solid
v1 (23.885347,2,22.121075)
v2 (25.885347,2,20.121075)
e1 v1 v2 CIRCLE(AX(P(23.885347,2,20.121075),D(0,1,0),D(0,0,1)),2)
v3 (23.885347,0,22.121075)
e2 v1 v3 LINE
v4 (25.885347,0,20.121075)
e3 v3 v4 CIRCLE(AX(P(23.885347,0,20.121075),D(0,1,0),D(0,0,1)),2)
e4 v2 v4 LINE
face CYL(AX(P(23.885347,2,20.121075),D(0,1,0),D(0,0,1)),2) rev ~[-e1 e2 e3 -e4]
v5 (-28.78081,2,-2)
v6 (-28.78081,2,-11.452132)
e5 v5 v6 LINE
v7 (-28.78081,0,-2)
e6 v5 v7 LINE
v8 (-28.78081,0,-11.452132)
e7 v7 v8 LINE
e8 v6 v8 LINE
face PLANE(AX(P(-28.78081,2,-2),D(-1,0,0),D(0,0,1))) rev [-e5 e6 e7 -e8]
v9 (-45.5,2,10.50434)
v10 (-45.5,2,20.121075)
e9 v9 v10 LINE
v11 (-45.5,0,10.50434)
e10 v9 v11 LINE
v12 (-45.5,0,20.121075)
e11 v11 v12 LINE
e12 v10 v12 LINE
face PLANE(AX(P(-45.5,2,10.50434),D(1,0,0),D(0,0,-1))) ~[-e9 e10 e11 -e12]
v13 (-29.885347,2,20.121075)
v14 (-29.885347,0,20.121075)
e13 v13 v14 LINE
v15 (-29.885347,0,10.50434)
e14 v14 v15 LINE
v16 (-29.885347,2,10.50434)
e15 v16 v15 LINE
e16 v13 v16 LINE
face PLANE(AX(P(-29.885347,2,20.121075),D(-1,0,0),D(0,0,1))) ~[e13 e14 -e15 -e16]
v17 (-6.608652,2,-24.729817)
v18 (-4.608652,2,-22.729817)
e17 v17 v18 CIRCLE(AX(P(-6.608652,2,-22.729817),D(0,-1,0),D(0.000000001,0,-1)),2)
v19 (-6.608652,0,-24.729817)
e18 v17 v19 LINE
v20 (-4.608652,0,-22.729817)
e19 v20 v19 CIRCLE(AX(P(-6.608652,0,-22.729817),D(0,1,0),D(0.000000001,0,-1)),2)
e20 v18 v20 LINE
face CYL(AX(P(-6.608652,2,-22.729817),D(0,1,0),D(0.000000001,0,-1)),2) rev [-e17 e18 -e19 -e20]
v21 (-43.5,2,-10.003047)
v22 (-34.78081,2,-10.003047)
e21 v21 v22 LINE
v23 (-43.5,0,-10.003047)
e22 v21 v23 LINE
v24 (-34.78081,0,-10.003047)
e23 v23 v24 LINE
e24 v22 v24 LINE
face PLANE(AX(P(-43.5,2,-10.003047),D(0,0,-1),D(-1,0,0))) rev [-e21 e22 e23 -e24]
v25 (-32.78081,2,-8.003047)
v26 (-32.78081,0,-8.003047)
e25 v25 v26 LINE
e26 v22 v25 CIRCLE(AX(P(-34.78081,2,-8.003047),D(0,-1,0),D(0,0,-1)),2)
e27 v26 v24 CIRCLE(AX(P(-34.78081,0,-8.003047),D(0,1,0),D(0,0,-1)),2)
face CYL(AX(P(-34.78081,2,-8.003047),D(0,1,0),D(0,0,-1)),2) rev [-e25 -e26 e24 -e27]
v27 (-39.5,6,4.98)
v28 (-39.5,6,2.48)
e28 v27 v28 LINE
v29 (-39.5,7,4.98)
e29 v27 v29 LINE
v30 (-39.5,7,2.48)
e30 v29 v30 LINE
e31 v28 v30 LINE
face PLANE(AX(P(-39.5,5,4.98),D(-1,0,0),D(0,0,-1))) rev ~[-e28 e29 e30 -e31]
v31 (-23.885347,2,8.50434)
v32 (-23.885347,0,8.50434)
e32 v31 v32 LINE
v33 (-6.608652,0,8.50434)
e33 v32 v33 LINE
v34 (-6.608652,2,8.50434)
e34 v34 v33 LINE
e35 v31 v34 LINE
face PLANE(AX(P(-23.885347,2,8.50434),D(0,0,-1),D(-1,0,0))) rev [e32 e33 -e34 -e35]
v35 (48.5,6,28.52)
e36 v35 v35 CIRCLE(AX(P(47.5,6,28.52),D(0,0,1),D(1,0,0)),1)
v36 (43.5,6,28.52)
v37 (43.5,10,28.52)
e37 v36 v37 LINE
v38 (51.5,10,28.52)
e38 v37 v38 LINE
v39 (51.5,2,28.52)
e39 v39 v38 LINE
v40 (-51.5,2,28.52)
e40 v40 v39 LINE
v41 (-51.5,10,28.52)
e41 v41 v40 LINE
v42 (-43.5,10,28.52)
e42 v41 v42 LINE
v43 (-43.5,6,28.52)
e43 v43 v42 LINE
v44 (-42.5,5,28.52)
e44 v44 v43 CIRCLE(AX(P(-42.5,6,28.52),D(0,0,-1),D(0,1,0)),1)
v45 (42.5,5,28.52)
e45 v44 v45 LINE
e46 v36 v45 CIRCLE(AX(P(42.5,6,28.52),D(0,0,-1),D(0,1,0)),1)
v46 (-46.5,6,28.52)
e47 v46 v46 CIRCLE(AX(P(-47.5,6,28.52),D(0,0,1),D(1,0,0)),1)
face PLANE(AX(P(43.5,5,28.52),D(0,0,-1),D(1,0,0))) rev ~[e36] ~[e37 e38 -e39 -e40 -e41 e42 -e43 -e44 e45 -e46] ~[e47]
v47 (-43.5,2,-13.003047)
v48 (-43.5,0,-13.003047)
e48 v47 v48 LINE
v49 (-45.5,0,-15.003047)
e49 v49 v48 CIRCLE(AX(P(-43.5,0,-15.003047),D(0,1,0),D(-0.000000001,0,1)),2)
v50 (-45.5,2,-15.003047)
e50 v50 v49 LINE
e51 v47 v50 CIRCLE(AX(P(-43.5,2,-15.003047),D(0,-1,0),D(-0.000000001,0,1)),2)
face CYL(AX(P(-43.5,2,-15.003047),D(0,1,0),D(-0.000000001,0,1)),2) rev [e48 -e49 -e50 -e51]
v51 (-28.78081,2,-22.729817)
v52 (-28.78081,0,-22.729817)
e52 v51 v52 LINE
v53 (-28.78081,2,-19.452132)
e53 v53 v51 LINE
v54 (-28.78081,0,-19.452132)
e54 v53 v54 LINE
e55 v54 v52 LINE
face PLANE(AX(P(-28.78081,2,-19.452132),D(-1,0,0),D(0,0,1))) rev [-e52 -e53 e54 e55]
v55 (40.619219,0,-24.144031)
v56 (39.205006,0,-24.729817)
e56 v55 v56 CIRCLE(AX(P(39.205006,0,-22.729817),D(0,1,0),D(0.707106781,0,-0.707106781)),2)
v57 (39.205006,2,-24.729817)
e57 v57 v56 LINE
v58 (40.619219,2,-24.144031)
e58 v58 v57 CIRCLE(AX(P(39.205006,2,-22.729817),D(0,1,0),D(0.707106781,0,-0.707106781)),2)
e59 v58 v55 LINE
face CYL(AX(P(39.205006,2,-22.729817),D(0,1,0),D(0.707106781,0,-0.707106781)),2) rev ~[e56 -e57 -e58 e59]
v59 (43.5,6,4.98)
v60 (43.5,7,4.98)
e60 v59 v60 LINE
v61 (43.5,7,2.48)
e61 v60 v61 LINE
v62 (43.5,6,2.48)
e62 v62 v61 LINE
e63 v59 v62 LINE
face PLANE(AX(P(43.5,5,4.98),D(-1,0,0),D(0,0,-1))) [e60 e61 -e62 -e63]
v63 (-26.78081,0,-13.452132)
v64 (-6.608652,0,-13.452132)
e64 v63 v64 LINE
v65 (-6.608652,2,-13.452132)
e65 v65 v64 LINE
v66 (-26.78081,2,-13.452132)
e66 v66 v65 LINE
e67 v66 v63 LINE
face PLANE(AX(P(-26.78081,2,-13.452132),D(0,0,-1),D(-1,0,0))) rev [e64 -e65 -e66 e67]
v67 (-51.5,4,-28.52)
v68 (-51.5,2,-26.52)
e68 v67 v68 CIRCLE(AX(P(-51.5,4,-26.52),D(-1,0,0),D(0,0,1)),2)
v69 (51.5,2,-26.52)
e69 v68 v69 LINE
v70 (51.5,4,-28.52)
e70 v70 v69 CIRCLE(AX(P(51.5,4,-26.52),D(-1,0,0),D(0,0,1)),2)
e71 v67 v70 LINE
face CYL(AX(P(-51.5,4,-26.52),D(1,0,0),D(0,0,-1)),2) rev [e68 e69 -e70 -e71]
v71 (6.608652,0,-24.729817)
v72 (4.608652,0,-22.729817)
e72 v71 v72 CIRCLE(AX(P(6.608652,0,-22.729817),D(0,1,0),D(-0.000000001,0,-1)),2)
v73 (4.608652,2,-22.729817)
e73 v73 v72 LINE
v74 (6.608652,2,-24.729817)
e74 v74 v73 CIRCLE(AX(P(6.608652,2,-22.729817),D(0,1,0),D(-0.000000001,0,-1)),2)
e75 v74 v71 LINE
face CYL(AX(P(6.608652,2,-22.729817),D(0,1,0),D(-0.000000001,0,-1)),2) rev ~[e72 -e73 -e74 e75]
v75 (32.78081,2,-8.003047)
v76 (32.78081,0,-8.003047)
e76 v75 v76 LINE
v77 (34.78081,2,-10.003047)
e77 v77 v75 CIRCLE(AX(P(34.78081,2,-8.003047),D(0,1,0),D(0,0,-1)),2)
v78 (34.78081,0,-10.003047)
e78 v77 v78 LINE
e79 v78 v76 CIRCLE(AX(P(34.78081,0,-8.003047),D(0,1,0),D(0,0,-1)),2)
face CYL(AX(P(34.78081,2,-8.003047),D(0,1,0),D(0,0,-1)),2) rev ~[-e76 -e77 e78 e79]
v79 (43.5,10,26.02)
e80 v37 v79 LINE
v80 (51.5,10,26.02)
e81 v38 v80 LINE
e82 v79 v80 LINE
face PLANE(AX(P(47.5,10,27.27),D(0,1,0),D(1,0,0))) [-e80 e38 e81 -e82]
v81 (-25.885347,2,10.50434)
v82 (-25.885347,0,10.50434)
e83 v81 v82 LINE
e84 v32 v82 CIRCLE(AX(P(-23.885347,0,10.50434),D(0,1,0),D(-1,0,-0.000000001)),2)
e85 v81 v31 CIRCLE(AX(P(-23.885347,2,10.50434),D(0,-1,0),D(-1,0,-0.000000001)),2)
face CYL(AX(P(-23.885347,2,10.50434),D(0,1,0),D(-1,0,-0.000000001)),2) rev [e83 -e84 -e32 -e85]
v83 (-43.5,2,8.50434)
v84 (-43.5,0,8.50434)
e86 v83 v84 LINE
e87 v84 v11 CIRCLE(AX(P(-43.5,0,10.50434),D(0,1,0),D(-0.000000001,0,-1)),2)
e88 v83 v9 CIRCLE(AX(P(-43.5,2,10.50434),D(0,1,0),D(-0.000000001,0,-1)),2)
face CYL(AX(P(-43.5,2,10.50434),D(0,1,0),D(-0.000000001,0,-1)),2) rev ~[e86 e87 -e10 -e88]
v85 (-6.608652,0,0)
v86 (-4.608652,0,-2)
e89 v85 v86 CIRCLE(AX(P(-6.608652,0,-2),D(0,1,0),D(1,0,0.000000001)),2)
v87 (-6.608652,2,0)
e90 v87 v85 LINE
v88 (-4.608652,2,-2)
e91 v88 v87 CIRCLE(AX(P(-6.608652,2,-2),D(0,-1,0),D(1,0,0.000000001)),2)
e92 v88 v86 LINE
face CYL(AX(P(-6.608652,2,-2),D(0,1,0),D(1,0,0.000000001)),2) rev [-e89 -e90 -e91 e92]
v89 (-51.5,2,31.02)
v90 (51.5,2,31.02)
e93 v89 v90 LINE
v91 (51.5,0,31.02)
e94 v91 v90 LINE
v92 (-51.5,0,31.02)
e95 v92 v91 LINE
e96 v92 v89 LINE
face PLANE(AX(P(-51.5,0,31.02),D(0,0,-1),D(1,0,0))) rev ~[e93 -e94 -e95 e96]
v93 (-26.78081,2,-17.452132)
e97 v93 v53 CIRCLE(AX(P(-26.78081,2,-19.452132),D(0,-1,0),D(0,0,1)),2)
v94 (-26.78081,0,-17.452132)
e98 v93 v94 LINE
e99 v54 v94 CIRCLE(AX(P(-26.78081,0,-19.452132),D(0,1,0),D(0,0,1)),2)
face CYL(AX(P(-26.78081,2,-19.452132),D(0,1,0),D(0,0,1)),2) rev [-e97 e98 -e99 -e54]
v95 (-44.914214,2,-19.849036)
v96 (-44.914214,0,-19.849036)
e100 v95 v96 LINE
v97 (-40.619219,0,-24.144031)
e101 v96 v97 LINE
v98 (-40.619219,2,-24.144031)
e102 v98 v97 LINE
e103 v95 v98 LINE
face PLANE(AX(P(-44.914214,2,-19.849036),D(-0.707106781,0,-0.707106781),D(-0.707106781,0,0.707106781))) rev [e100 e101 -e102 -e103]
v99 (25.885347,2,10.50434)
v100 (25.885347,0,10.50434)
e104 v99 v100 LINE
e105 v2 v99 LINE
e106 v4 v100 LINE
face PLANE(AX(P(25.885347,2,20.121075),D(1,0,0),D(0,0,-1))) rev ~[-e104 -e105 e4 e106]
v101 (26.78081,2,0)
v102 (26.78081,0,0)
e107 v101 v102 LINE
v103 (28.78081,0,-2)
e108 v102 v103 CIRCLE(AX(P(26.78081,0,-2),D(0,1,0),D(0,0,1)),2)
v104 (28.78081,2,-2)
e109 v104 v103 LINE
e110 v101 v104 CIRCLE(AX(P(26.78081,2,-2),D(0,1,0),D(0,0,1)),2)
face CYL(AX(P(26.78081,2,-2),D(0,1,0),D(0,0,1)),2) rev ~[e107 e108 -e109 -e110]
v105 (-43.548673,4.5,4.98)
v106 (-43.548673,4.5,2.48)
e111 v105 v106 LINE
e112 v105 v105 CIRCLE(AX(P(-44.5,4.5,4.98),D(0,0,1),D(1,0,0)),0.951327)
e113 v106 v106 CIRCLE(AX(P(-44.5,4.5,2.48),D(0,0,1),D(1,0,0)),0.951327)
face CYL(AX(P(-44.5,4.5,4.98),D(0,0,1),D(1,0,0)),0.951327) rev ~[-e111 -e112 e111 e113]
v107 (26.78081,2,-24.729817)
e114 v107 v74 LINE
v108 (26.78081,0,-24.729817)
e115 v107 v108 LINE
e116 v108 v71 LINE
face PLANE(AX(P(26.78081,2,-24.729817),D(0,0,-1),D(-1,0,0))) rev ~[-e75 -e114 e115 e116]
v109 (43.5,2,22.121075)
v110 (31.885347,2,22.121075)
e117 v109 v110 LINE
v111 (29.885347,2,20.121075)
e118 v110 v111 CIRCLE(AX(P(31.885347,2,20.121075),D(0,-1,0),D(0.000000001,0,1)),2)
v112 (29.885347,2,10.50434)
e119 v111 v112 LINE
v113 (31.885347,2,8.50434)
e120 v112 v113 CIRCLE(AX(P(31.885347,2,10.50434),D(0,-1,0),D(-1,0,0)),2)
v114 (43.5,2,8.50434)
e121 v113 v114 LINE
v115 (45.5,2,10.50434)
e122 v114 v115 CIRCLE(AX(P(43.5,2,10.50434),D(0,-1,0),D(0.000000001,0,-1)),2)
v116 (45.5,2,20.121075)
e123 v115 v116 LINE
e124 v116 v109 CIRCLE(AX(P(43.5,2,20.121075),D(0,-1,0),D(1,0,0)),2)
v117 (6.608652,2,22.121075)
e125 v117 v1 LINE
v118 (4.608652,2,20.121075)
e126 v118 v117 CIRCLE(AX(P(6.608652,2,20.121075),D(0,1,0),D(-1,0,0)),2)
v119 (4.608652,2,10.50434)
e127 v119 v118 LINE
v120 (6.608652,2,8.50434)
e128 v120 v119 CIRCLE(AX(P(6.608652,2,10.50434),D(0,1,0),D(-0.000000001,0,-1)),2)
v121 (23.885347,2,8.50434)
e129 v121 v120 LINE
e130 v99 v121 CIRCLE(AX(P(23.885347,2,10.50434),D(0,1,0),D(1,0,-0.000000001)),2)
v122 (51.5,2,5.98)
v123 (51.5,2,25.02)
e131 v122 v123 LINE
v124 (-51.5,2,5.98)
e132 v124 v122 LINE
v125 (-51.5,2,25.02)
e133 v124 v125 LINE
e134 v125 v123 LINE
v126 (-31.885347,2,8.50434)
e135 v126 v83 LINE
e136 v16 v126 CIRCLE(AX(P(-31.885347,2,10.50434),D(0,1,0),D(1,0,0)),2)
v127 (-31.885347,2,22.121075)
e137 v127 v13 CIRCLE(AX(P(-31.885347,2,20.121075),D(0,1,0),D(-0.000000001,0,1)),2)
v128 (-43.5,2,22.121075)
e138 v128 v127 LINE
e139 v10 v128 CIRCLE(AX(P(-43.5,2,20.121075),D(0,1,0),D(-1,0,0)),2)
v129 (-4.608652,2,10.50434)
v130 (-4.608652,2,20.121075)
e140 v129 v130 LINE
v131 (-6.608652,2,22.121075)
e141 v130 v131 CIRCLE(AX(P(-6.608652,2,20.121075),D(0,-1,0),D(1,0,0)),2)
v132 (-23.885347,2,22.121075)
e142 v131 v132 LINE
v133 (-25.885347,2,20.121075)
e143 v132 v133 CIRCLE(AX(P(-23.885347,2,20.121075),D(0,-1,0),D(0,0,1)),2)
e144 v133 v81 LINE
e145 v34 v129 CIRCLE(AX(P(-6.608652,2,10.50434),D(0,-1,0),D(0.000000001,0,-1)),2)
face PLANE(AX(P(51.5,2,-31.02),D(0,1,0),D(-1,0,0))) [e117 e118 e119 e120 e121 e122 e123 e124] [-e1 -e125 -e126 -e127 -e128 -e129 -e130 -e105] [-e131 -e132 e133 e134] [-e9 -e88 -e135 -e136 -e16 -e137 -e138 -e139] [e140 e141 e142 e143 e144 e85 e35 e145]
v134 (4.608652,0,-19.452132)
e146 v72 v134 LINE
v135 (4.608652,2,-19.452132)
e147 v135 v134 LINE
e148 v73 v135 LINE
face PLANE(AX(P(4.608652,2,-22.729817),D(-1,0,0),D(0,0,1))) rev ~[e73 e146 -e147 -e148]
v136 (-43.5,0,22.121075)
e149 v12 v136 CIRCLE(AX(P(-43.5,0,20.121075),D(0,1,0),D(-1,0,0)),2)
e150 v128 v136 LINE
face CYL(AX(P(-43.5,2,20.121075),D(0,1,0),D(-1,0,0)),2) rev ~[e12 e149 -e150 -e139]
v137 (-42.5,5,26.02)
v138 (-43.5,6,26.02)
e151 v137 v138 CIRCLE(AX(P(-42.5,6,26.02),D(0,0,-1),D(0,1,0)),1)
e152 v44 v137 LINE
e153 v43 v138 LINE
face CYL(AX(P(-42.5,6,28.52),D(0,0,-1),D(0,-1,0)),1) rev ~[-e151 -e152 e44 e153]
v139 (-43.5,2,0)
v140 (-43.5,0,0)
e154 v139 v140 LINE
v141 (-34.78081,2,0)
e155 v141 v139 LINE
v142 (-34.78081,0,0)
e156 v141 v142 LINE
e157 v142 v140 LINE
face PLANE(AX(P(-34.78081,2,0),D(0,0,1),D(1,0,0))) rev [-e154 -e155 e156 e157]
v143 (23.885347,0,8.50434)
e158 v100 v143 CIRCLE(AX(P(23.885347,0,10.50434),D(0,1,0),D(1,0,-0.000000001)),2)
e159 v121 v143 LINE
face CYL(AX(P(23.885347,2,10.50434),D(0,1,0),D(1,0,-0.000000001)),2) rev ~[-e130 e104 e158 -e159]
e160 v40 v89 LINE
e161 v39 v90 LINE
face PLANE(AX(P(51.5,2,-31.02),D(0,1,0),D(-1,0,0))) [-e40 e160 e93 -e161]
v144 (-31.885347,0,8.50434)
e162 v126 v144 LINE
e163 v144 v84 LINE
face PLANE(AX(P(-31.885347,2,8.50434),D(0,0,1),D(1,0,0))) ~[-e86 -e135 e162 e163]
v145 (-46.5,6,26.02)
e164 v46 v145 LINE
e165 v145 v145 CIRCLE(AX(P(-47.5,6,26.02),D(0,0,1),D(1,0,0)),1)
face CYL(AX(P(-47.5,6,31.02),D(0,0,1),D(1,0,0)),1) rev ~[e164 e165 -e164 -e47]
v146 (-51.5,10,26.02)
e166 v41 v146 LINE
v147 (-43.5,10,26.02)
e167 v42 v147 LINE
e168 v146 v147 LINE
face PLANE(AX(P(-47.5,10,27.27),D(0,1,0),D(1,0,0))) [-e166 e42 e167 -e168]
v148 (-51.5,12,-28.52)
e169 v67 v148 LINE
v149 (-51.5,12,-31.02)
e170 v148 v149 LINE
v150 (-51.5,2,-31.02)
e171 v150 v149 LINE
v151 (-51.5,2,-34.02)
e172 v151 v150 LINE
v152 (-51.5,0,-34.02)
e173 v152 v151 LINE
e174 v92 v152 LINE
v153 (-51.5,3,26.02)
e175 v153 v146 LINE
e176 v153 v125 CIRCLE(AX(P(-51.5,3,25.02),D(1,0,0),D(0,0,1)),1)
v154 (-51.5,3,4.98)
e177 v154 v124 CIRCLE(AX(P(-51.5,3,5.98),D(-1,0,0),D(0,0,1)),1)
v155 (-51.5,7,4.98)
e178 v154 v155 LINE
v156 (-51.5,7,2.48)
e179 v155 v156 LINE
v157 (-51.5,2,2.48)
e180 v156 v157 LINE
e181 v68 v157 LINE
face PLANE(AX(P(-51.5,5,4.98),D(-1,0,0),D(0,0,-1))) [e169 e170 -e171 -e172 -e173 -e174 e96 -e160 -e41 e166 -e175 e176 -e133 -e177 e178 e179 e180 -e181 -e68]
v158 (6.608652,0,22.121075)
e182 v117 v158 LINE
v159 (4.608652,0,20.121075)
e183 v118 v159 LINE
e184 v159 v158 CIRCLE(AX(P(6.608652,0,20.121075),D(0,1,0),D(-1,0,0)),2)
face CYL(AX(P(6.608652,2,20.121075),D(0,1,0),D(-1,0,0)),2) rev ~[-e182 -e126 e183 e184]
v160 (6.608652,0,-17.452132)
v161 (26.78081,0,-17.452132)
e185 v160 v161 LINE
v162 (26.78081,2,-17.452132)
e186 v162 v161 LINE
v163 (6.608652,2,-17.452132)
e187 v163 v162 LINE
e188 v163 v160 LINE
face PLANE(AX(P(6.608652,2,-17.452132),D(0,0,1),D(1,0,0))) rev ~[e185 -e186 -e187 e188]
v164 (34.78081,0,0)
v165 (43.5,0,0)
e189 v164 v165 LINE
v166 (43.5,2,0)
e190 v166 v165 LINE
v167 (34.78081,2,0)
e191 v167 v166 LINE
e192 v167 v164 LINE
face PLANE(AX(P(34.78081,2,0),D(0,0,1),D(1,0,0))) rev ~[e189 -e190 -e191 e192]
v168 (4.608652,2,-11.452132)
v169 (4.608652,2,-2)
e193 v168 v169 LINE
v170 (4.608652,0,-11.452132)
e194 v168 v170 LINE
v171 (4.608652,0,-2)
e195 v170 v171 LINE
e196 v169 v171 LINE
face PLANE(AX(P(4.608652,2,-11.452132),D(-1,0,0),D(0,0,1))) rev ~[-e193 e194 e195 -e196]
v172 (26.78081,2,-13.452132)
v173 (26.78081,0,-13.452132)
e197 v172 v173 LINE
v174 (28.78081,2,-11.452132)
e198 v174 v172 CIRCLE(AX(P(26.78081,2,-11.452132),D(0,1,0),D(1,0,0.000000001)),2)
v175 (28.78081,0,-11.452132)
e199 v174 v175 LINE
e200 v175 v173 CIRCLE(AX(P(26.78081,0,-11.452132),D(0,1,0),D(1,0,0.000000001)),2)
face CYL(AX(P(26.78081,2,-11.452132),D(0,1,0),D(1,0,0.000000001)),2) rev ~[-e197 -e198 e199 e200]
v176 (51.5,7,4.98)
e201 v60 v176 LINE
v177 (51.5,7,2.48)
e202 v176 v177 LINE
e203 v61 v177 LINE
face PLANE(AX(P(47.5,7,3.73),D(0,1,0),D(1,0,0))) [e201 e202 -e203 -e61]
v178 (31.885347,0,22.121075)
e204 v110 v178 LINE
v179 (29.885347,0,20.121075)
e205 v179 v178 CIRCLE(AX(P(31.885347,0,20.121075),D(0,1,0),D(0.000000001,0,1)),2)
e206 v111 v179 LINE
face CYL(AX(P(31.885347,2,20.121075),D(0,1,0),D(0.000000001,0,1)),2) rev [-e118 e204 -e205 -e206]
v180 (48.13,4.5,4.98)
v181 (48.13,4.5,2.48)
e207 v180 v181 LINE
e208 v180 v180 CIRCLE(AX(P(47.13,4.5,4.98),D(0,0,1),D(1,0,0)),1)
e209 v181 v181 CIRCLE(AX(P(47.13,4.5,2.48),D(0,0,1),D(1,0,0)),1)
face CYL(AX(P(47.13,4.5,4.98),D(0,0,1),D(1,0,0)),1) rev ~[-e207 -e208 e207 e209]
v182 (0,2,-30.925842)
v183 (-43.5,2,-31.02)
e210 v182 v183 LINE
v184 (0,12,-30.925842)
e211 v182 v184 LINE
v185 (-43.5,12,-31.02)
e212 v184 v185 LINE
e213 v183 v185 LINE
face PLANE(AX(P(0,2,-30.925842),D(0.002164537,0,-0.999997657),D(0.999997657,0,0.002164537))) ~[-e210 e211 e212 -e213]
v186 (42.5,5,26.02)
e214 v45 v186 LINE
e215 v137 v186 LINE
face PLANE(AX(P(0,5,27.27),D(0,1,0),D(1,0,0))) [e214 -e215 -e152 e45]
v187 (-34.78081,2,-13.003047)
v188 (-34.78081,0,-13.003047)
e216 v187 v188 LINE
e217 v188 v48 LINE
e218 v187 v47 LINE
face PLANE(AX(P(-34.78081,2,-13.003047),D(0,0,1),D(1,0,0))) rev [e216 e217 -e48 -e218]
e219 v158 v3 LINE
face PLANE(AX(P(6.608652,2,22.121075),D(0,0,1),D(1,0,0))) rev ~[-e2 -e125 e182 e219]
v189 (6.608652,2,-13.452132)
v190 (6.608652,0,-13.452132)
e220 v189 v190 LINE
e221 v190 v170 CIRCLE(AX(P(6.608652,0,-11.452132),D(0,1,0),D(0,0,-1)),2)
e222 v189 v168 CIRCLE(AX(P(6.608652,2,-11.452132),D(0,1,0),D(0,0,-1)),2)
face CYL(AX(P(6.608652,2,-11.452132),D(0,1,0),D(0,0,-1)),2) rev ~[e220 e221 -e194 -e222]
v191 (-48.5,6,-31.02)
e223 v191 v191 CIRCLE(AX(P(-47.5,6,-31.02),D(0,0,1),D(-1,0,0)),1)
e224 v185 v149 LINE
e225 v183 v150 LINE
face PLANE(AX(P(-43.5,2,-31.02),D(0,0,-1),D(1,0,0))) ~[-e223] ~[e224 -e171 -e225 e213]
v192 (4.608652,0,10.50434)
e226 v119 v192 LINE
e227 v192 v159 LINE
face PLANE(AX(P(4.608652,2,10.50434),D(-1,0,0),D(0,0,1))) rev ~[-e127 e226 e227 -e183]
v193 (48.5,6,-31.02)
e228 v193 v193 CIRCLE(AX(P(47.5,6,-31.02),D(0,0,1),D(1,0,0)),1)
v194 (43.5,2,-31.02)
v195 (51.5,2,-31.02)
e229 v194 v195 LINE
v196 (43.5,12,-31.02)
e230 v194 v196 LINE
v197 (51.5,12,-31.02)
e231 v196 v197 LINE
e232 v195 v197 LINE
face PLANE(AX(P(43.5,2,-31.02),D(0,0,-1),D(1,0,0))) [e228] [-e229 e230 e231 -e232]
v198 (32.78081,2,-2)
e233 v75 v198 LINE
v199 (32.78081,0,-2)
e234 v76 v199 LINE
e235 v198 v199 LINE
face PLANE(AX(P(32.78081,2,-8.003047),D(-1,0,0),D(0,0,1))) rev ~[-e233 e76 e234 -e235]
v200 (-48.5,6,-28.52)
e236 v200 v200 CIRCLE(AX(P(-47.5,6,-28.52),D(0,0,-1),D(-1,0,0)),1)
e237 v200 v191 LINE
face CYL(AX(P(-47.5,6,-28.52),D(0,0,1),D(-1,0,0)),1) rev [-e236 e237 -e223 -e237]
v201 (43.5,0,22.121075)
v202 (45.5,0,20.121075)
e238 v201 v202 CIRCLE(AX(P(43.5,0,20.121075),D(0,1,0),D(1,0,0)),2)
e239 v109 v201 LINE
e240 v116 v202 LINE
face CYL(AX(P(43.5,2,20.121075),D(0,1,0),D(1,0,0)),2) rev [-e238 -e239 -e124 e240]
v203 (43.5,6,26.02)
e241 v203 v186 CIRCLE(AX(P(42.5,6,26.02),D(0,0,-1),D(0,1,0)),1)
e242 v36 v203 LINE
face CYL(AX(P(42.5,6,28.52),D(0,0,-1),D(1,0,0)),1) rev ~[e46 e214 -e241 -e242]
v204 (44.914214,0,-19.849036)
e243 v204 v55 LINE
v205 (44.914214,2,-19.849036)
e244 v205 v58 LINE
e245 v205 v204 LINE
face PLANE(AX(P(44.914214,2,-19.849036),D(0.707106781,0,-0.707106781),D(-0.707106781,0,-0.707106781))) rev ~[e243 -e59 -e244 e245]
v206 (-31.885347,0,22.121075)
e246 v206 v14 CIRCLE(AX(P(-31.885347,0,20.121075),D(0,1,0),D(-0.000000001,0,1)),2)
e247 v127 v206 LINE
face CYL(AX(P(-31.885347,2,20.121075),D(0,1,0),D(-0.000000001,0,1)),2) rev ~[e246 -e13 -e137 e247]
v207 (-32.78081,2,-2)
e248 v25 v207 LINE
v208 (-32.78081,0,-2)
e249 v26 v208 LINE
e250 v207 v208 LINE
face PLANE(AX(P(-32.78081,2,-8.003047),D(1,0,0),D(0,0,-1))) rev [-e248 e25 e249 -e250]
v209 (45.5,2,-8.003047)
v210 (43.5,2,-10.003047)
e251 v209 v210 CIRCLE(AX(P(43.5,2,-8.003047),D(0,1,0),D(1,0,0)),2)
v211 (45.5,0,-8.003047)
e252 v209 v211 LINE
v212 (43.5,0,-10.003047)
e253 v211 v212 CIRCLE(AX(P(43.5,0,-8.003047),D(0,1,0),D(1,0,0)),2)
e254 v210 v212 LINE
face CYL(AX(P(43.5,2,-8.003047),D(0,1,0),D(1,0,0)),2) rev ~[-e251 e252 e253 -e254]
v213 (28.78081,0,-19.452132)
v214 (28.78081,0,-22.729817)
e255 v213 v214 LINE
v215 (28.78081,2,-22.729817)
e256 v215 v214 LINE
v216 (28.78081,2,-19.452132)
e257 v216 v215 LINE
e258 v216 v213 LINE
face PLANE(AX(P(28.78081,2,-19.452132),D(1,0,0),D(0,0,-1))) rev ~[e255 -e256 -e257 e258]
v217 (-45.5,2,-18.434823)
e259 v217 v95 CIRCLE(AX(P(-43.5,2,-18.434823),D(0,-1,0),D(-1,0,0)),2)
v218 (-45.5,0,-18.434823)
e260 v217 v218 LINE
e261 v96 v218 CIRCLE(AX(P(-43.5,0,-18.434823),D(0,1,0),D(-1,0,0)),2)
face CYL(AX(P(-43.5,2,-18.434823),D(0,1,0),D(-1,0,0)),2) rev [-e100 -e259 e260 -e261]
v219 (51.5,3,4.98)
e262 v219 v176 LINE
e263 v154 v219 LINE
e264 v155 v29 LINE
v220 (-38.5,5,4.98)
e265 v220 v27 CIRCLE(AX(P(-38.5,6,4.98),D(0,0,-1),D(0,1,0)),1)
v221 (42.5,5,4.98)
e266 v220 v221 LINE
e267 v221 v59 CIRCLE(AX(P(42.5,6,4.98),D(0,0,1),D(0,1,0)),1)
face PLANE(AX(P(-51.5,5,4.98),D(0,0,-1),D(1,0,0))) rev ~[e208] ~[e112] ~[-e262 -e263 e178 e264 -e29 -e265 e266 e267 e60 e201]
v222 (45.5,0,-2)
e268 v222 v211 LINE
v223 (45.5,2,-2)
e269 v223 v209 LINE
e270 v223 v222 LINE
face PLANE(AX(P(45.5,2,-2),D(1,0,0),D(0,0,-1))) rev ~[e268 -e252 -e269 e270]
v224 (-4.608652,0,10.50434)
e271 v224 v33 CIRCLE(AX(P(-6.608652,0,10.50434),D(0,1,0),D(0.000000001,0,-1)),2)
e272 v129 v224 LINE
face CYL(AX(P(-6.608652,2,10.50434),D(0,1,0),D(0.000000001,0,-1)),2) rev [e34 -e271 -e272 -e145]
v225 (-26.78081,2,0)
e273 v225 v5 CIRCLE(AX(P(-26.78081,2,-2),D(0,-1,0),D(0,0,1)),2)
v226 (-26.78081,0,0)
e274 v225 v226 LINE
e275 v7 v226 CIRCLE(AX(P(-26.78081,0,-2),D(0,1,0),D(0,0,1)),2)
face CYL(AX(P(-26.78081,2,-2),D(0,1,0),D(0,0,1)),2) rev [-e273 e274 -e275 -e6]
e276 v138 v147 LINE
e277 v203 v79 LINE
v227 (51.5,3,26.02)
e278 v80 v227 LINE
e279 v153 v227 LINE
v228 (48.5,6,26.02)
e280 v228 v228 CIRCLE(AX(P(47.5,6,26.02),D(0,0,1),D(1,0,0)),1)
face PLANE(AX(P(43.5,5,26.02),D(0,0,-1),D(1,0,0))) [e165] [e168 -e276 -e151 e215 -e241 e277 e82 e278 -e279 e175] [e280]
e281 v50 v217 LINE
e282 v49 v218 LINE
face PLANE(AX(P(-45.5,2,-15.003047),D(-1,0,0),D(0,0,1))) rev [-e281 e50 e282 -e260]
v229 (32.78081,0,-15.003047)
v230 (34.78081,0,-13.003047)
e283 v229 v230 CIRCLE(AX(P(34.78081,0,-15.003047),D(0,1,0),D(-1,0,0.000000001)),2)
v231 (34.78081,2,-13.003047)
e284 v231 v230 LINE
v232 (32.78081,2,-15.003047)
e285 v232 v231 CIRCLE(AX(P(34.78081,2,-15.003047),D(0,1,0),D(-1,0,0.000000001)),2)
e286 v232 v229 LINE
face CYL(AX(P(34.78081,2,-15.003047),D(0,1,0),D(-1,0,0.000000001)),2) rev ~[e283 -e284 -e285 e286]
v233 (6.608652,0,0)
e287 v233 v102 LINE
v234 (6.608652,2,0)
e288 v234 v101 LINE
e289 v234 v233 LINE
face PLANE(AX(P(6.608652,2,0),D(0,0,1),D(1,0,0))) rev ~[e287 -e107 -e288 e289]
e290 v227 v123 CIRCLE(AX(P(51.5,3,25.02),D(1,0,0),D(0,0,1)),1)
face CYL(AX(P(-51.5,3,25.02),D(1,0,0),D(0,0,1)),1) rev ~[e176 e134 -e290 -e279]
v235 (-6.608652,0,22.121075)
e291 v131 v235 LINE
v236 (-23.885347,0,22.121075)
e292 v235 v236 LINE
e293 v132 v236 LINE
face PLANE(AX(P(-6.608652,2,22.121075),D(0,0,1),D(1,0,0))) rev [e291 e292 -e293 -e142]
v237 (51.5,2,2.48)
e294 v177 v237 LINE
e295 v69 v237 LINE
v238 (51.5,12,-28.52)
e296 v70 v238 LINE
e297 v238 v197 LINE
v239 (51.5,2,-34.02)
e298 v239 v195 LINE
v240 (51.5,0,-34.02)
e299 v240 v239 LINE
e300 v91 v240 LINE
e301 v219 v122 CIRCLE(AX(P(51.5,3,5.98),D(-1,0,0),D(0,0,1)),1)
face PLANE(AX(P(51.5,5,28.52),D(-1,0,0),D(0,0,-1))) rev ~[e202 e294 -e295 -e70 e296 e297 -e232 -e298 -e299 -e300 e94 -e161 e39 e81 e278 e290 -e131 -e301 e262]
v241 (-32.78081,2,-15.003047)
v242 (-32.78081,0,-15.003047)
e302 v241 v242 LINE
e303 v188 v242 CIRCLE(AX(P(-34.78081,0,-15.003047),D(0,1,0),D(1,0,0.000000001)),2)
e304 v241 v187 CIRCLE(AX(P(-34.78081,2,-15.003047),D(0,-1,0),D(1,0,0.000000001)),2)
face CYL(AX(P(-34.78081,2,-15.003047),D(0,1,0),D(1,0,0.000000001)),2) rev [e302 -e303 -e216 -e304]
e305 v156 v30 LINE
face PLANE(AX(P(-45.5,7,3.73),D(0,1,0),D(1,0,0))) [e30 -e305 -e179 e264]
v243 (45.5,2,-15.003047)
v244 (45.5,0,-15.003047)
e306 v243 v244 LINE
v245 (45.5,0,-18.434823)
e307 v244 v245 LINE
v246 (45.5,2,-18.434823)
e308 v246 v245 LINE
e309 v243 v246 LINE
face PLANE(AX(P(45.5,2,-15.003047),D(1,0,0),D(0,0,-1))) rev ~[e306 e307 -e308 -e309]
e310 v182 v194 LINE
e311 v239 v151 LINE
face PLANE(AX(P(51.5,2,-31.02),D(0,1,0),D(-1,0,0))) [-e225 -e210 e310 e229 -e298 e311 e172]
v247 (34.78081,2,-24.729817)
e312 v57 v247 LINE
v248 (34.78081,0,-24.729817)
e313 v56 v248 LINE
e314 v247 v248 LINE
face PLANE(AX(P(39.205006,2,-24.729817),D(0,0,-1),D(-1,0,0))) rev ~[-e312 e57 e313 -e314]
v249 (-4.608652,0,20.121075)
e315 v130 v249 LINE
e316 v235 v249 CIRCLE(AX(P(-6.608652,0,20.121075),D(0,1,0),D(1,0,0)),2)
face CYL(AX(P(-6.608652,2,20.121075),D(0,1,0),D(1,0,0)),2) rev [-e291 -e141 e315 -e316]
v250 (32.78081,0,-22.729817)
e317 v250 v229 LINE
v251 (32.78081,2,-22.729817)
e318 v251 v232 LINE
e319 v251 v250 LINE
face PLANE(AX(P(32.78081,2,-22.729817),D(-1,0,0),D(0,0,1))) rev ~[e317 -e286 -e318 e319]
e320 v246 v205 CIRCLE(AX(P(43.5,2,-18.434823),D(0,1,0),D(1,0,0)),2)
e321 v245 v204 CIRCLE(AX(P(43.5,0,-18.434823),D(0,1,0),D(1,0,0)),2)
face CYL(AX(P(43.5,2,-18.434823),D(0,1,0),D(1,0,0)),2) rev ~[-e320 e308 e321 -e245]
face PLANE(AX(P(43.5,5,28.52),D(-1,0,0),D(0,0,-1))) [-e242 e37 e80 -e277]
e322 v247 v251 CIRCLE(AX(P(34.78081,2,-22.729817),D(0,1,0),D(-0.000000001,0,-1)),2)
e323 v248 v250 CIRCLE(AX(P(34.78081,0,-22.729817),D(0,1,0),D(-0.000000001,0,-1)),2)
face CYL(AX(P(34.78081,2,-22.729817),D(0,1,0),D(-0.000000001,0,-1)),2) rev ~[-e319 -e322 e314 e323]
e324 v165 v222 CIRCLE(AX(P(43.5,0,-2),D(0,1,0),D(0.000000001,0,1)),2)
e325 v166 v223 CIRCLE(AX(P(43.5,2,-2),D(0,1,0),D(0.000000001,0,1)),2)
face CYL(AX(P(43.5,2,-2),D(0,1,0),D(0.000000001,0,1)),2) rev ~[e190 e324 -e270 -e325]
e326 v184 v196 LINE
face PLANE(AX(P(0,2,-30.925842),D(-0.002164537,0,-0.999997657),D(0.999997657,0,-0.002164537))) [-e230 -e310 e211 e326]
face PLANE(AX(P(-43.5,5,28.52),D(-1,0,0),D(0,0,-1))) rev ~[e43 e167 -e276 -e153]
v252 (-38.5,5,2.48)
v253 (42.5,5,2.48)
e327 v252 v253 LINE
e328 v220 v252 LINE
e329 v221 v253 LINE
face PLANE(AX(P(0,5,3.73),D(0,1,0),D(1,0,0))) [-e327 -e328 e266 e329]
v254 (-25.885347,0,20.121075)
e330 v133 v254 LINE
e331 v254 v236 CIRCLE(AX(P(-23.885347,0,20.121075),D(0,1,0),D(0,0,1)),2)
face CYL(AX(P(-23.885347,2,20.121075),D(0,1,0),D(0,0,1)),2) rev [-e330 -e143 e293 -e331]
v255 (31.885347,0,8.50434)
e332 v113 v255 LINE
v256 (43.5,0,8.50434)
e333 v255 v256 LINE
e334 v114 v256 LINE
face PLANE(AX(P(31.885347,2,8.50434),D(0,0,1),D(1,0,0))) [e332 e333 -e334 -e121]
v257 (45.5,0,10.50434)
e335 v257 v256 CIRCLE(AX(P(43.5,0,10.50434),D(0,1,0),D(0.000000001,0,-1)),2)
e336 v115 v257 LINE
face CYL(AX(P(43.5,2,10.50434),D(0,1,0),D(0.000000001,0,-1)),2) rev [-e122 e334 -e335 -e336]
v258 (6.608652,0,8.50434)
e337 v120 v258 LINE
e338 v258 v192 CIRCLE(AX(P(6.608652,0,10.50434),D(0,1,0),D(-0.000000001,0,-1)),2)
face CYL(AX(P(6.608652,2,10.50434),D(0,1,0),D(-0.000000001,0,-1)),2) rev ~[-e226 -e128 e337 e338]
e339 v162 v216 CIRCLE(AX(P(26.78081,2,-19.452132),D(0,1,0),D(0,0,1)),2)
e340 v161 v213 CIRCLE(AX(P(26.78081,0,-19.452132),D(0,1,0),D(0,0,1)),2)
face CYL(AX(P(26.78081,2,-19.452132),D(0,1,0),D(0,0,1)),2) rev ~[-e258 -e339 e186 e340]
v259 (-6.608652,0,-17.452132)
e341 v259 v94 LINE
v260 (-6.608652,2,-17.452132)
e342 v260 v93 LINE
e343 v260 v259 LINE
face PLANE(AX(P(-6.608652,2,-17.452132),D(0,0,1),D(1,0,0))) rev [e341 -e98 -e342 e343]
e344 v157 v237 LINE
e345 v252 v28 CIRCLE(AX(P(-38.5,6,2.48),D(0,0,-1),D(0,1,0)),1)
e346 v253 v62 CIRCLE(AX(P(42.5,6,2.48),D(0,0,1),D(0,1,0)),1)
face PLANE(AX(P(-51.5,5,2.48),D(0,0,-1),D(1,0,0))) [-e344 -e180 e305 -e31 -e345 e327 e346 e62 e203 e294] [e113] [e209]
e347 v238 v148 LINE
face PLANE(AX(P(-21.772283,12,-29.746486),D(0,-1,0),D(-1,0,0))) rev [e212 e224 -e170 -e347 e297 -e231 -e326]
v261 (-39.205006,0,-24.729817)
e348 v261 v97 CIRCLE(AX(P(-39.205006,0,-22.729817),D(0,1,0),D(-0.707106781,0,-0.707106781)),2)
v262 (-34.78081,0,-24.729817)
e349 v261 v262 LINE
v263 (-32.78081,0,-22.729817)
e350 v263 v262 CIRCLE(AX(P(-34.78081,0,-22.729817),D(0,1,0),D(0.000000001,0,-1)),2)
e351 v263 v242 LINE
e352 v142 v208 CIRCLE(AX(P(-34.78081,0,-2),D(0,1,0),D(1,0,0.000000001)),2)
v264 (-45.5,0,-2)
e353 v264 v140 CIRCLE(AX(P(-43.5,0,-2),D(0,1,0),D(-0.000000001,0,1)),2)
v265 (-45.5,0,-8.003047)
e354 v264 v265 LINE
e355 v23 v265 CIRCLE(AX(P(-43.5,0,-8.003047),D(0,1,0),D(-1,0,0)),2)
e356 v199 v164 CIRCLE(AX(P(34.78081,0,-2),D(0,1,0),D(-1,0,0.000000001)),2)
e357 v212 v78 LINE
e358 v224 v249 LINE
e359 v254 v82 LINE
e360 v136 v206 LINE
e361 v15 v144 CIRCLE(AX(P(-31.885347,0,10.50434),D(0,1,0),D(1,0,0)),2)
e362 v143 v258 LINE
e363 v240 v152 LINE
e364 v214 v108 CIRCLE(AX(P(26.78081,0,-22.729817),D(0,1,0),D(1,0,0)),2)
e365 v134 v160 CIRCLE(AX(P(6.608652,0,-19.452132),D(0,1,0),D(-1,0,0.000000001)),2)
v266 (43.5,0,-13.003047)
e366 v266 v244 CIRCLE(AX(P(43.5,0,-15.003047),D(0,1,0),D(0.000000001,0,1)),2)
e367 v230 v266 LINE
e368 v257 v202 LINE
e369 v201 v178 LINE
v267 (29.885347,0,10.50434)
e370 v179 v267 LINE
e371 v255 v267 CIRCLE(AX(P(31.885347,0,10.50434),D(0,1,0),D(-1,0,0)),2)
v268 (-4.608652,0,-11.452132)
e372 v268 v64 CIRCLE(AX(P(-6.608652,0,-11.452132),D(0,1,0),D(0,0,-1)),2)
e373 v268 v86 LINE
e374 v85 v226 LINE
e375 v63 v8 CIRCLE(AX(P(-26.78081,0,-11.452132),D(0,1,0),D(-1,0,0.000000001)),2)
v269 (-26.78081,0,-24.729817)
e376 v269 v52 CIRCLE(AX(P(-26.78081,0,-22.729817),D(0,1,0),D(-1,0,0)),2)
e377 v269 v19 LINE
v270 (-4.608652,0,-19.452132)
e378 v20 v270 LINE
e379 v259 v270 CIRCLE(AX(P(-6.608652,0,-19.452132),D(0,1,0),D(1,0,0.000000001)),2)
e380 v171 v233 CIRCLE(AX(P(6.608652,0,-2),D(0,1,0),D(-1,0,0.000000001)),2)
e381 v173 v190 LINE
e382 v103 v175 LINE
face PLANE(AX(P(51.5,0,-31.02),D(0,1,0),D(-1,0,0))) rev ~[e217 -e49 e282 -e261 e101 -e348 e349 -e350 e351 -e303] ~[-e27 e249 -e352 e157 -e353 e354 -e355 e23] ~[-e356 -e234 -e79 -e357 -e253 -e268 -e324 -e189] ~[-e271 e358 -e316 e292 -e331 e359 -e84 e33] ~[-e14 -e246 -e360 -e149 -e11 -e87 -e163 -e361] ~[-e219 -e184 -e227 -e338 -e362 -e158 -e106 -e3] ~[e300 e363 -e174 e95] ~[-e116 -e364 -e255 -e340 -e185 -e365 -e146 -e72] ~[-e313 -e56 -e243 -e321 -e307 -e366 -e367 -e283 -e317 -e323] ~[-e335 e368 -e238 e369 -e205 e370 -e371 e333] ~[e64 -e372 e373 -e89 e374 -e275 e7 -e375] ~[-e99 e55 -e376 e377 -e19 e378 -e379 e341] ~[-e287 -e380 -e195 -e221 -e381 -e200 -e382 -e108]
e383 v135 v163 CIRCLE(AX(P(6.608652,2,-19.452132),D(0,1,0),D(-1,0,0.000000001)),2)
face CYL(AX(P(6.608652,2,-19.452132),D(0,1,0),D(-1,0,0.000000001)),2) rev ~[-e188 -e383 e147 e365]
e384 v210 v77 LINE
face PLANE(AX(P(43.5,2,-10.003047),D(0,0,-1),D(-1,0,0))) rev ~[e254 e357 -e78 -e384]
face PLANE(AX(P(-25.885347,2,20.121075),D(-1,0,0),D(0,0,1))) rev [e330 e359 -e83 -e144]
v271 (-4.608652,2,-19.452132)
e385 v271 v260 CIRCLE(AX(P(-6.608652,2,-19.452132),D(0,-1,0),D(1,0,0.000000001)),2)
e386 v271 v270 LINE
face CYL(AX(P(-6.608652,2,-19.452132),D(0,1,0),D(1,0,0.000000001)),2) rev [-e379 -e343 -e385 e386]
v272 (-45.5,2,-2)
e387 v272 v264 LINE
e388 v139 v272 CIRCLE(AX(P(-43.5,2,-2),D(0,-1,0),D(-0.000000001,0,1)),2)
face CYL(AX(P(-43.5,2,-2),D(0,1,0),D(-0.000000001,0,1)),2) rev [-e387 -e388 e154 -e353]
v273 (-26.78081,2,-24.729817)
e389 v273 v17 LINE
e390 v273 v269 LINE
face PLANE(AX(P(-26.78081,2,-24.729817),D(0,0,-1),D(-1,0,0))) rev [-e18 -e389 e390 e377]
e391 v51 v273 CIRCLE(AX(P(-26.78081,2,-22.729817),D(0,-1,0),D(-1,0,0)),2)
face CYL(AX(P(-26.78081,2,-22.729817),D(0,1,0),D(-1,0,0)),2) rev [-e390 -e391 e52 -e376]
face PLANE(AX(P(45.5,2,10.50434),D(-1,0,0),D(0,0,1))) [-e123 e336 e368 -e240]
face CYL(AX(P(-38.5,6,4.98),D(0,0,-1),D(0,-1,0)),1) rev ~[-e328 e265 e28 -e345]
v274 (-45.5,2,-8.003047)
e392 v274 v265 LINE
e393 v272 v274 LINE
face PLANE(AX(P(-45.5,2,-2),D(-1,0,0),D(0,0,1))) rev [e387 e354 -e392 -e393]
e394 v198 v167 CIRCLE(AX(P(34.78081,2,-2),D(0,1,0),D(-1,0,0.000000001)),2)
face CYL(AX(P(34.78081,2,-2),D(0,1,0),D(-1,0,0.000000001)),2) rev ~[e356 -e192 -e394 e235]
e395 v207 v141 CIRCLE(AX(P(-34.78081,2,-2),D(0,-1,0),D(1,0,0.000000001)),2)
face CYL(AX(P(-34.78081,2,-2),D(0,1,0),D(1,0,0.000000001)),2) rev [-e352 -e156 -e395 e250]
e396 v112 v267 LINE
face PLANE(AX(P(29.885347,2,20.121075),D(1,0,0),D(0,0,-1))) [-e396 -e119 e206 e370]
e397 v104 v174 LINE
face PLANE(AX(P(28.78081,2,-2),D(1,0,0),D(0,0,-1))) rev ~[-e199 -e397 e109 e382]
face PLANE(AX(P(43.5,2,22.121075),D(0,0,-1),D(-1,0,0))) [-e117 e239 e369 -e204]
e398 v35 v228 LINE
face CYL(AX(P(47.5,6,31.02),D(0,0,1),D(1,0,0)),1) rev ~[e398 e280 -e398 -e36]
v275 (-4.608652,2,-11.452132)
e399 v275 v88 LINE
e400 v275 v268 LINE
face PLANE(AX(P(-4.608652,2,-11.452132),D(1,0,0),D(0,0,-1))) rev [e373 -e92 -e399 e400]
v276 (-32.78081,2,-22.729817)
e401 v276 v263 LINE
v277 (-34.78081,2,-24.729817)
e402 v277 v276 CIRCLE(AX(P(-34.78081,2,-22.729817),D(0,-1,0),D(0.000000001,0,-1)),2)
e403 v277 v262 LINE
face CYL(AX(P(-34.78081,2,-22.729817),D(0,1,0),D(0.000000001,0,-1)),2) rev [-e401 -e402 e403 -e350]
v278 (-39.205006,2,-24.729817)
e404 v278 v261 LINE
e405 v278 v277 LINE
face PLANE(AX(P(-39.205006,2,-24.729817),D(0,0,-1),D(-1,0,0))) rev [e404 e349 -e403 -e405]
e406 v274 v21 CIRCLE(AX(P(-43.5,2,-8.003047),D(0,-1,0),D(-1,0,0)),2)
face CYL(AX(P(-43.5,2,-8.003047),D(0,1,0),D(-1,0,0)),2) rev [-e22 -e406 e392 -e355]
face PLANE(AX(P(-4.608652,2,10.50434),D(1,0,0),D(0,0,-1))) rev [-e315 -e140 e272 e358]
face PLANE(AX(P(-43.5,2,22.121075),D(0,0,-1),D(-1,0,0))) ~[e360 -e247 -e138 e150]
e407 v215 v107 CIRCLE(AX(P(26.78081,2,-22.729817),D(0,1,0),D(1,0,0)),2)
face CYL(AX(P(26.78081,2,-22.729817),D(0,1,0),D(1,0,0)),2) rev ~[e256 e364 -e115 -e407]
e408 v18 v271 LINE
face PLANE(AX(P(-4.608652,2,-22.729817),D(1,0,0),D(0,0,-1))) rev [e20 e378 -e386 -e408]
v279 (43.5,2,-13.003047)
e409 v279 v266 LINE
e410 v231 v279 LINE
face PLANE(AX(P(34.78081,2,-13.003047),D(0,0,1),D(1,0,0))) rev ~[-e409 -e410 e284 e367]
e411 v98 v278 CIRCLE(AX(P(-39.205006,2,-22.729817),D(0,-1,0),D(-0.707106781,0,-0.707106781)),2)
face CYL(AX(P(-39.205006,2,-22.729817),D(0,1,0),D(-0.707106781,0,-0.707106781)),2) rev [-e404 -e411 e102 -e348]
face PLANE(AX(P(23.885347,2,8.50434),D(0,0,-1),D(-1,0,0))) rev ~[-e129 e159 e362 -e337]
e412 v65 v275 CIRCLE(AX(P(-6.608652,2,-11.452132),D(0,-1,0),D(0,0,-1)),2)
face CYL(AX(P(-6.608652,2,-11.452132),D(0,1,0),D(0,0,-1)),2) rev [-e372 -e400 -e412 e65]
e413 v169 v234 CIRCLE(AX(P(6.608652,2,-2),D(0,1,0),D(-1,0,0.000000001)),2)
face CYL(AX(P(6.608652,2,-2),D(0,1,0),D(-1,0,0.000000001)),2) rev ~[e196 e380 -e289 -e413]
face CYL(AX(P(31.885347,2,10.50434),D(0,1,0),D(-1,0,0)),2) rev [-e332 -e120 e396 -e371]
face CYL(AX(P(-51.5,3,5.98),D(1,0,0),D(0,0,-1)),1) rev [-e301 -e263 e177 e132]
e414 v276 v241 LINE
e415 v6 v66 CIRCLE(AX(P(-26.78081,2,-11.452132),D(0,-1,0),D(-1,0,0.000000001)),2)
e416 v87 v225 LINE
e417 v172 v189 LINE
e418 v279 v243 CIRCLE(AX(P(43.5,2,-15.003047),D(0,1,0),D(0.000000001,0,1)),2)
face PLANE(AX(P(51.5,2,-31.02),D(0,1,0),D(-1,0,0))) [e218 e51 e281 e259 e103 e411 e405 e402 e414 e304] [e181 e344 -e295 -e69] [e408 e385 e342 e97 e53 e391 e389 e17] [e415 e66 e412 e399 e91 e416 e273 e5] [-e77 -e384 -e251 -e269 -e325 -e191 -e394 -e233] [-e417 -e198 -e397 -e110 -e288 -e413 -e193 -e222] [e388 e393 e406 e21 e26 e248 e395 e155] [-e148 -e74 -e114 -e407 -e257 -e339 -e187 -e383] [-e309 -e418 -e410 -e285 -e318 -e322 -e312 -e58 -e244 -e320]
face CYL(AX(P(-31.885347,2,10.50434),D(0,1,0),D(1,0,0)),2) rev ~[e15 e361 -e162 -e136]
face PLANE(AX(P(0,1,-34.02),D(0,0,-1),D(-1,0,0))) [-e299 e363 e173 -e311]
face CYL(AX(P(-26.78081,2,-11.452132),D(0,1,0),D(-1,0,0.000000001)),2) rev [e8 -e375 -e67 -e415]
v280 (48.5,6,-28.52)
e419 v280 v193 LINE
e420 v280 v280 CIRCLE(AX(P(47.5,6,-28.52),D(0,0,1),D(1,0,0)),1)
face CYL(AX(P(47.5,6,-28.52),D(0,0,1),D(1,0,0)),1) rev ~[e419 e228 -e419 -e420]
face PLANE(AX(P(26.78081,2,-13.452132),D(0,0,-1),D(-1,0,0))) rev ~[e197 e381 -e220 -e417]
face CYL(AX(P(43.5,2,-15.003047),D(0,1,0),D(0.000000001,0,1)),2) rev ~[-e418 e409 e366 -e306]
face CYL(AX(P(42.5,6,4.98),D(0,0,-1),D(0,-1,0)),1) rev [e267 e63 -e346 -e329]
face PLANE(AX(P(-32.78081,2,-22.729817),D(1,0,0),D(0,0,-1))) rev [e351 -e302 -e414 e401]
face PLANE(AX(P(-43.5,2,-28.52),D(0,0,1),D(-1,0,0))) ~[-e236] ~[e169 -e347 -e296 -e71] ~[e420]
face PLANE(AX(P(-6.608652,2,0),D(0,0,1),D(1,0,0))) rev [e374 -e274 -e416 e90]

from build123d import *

# Parameters (mm, degrees)
SKETCH1_W            = 103
SKETCH1_H            = 62.04
BOSS_EXTRUDE1_DEPTH  = 2
SKETCH2_W            = 103
SKETCH2_H            = 2
BOSS_EXTRUDE2_DEPTH  = 3
SKETCH5_W            = 8
SKETCH5_H            = 2.5
BOSS_EXTRUDE4_DEPTH  = 10
BOSS_EXTRUDE5_DEPTH  = 10
SKETCH7_R            = 1
CUT_EXTRUDE1_DEPTH   = 3
FILLET2_R            = 2
SKETCH8_W            = 103
SKETCH8_H            = 2.5
BOSS_EXTRUDE6_DEPTH  = 3
SKETCH9_W            = 8
SKETCH9_H            = 2.5
BOSS_EXTRUDE7_DEPTH  = 2
SKETCH11_R           = 1
CUT_EXTRUDE3_DEPTH   = 22
FILLET4_R            = 1
SKETCH12_W           = 12
SKETCH12_H           = 2.5
BOSS_EXTRUDE8_DEPTH  = 2
FILLET5_R            = 1
SKETCH13_R           = 0.95132711
CUT_EXTRUDE4_DEPTH   = 12
FILLET6_R            = 1
SKETCH14_W           = 103
SKETCH14_H           = 2.5
BOSS_EXTRUDE9_DEPTH  = 3
SKETCH15_W           = 8
SKETCH15_H           = 2.5
BOSS_EXTRUDE10_DEPTH = 5
SKETCH16_R           = 1
CUT_EXTRUDE5_DEPTH   = 15
FILLET7_R            = 1
CUT_EXTRUDE6_DEPTH   = 5


with BuildPart() as part:
    # Sketch1 → Boss-Extrude1 (new body)
    with BuildSketch(Plane(origin=(0, 0, 0), x_dir=(1, 0, 0), z_dir=(0, 1, 0))):
        Rectangle(SKETCH1_W, SKETCH1_H)
    extrude(amount=BOSS_EXTRUDE1_DEPTH)

    # Sketch2 → Boss-Extrude2 (add)
    with BuildSketch(Plane(origin=(0, 0, -31.02), x_dir=(-1, 0, 0), z_dir=(0, 0, -1))):
        with Locations((0, 1)):
            Rectangle(SKETCH2_W, SKETCH2_H)
    extrude(amount=BOSS_EXTRUDE2_DEPTH)

    # Sketch5 → Boss-Extrude4 (add)
    with BuildSketch(Plane(origin=(0, 2, 0), x_dir=(1, 0, 0), z_dir=(0, 1, 0))):
        with Locations((47.5, 29.77)):
            Rectangle(SKETCH5_W, SKETCH5_H)
    boss_extrude4 = extrude(amount=BOSS_EXTRUDE4_DEPTH)

    # Sketch6 → Boss-Extrude5 (add)
    with BuildSketch(Plane(origin=(0, 2, 0), x_dir=(1, 0, 0), z_dir=(0, 1, 0))):
        Polygon((43.5, 28.52), (0, 28.52), (0, 30.925842428), (43.5, 31.02), align=None)
    boss_extrude5 = extrude(amount=BOSS_EXTRUDE5_DEPTH)

    # Sketch7 → Cut-Extrude1 (cut)
    with BuildSketch(Plane.XY.offset(-28.52)):
        with Locations((47.5, 6)):
            Circle(SKETCH7_R)
    cut_extrude1 = extrude(amount=-CUT_EXTRUDE1_DEPTH, mode=Mode.SUBTRACT)

    # Mirror1: Boss-Extrude4, Boss-Extrude5, Cut-Extrude1 across plane
    add(boss_extrude4.mirror(Plane(origin=(0, 0, 0), x_dir=(0, 0, 1), z_dir=(1, 0, 0))))
    add(boss_extrude5.mirror(Plane(origin=(0, 0, 0), x_dir=(0, 0, 1), z_dir=(1, 0, 0))))
    add(cut_extrude1.mirror(Plane(origin=(0, 0, 0), x_dir=(0, 0, 1), z_dir=(1, 0, 0))), mode=Mode.SUBTRACT)

    # Fillet2
    fillet2_edges = [part.edges().sort_by_distance(p)[0] for p in [
        (0, 2, -28.52),
    ]]
    fillet(fillet2_edges, radius=FILLET2_R)

    # Sketch8 → Boss-Extrude6 (add)
    with BuildSketch(Plane(origin=(0, 2, 0), x_dir=(1, 0, 0), z_dir=(0, 1, 0))):
        with Locations((0, -3.73)):
            Rectangle(SKETCH8_W, SKETCH8_H)
    extrude(amount=BOSS_EXTRUDE6_DEPTH)

    # Sketch9 → Boss-Extrude7 (add)
    with BuildSketch(Plane(origin=(0, 5, 0), x_dir=(1, 0, 0), z_dir=(0, 1, 0))):
        with Locations((47.5, -3.73)):
            Rectangle(SKETCH9_W, SKETCH9_H)
    extrude(amount=BOSS_EXTRUDE7_DEPTH)

    # Sketch11 → Cut-Extrude3 (cut)
    with BuildSketch(Plane.XY.offset(4.98)):
        with Locations((47.13, 4.5)):
            Circle(SKETCH11_R)
    extrude(amount=-CUT_EXTRUDE3_DEPTH, mode=Mode.SUBTRACT)

    # Fillet4
    fillet4_edges = [part.edges().sort_by_distance(p)[0] for p in [
        (0, 2, 4.98),
    ]]
    fillet(fillet4_edges, radius=FILLET4_R)

    # Sketch12 → Boss-Extrude8 (add)
    with BuildSketch(Plane(origin=(0, 5, 0), x_dir=(1, 0, 0), z_dir=(0, 1, 0))):
        with Locations((-45.5, -3.73)):
            Rectangle(SKETCH12_W, SKETCH12_H)
    extrude(amount=BOSS_EXTRUDE8_DEPTH)

    # Fillet5
    fillet5_edges = [part.edges().sort_by_distance(p)[0] for p in [
        (-39.5, 5, 3.73),
    ]]
    fillet(fillet5_edges, radius=FILLET5_R)

    # Sketch13 → Cut-Extrude4 (cut)
    with BuildSketch(Plane.XY.offset(4.98)):
        with Locations((-44.5, 4.5)):
            Circle(SKETCH13_R)
    extrude(amount=-CUT_EXTRUDE4_DEPTH, mode=Mode.SUBTRACT)

    # Fillet6
    fillet6_edges = [part.edges().sort_by_distance(p)[0] for p in [
        (43.5, 5, 3.73),
    ]]
    fillet(fillet6_edges, radius=FILLET6_R)

    # Sketch14 → Boss-Extrude9 (add)
    with BuildSketch(Plane(origin=(0, 2, 0), x_dir=(1, 0, 0), z_dir=(0, 1, 0))):
        with Locations((0, -27.27)):
            Rectangle(SKETCH14_W, SKETCH14_H)
    extrude(amount=BOSS_EXTRUDE9_DEPTH)

    # Sketch15 → Boss-Extrude10 (add)
    with BuildSketch(Plane(origin=(0, 5, 0), x_dir=(1, 0, 0), z_dir=(0, 1, 0))):
        with Locations((47.5, -27.27)):
            Rectangle(SKETCH15_W, SKETCH15_H)
        with Locations((-47.5, -27.27)):
            Rectangle(SKETCH15_W, SKETCH15_H)
    extrude(amount=BOSS_EXTRUDE10_DEPTH)

    # Sketch16 → Cut-Extrude5 (cut)
    with BuildSketch(Plane.XY.offset(31.02)):
        with Locations((47.5, 6)):
            Circle(SKETCH16_R)
        with Locations((-47.5, 6)):
            Circle(SKETCH16_R)
    extrude(amount=-CUT_EXTRUDE5_DEPTH, mode=Mode.SUBTRACT)

    # Fillet7
    fillet7_edges = [part.edges().sort_by_distance(p)[0] for p in [
        (0, 2, 26.02),
        (43.5, 5, 27.27),
        (-43.5, 5, 27.27),
    ]]
    fillet(fillet7_edges, radius=FILLET7_R)

    # Sketch17 → Cut-Extrude6 (cut)
    with BuildSketch(Plane(origin=(0, 2, 0), x_dir=(1, 0, 0), z_dir=(0, 1, 0))):
        with BuildLine():
            Line((43.5, -22.121075172), (31.88534696, -22.121075172))
            ThreePointArc((31.88534696, -22.121075172), (30.471133397, -21.535288735), (29.88534696, -20.121075172))
            Line((29.88534696, -20.121075172), (29.88534696, -10.50434013))
            ThreePointArc((29.88534696, -10.50434013), (30.471133397, -9.090126568), (31.88534696, -8.50434013))
            Line((31.88534696, -8.50434013), (43.5, -8.50434013))
            ThreePointArc((43.5, -8.50434013), (44.914213562, -9.090126568), (45.5, -10.50434013))
            Line((45.5, -10.50434013), (45.5, -20.121075172))
            ThreePointArc((45.5, -20.121075172), (44.914213562, -21.535288735), (43.5, -22.121075172))
        make_face()
        with BuildLine():
            Line((25.88534696, -20.121075172), (25.88534696, -10.50434013))
            ThreePointArc((25.88534696, -10.50434013), (25.299560522, -9.090126568), (23.88534696, -8.50434013))
            Line((23.88534696, -8.50434013), (6.608652469, -8.50434013))
            ThreePointArc((6.608652469, -8.50434013), (5.194438907, -9.090126568), (4.608652469, -10.50434013))
            Line((4.608652469, -10.50434013), (4.608652469, -20.121075172))
            ThreePointArc((4.608652469, -20.121075172), (5.194438907, -21.535288735), (6.608652469, -22.121075172))
            Line((6.608652469, -22.121075172), (23.88534696, -22.121075172))
            ThreePointArc((23.88534696, -22.121075172), (25.299560522, -21.535288735), (25.88534696, -20.121075172))
        make_face()
        with BuildLine():
            Line((44.914213562, 19.849036172), (40.619219164, 24.14403057))
            ThreePointArc((40.619219164, 24.14403057), (39.970372466, 24.577576073), (39.205005602, 24.729817008))
            Line((39.205005602, 24.729817008), (34.780809577, 24.729817008))
            ThreePointArc((34.780809577, 24.729817008), (33.366596015, 24.14403057), (32.780809577, 22.729817008))
            Line((32.780809577, 22.729817008), (32.780809577, 15.003047088))
            ThreePointArc((32.780809577, 15.003047088), (33.366596015, 13.588833526), (34.780809577, 13.003047088))
            Line((34.780809577, 13.003047088), (43.5, 13.003047088))
            ThreePointArc((43.5, 13.003047088), (44.914213562, 13.588833526), (45.5, 15.003047088))
            Line((45.5, 15.003047088), (45.5, 18.43482261))
            ThreePointArc((45.5, 18.43482261), (45.347759065, 19.200189474), (44.914213562, 19.849036172))
        make_face()
        with BuildLine():
            Line((43.5, 10.003047088), (34.780809577, 10.003047088))
            ThreePointArc((34.780809577, 10.003047088), (33.366596015, 9.417260651), (32.780809577, 8.003047088))
            Line((32.780809577, 8.003047088), (32.780809577, 2))
            ThreePointArc((32.780809577, 2), (33.366596015, 0.585786438), (34.780809577, 0))
            Line((34.780809577, 0), (43.5, 0))
            ThreePointArc((43.5, 0), (44.914213562, 0.585786438), (45.5, 2))
            Line((45.5, 2), (45.5, 8.003047088))
            ThreePointArc((45.5, 8.003047088), (44.914213562, 9.417260651), (43.5, 10.003047088))
        make_face()
        with BuildLine():
            Line((28.780809577, 2), (28.780809577, 11.452131966))
            ThreePointArc((28.780809577, 11.452131966), (28.19502314, 12.866345529), (26.780809577, 13.452131966))
            Line((26.780809577, 13.452131966), (6.608652469, 13.452131966))
            ThreePointArc((6.608652469, 13.452131966), (5.194438907, 12.866345529), (4.608652469, 11.452131966))
            Line((4.608652469, 11.452131966), (4.608652469, 2))
            ThreePointArc((4.608652469, 2), (5.194438907, 0.585786438), (6.608652469, 0))
            Line((6.608652469, 0), (26.780809577, 0))
            ThreePointArc((26.780809577, 0), (28.19502314, 0.585786438), (28.780809577, 2))
        make_face()
        with BuildLine():
            Line((28.780809577, 19.452131966), (28.780809577, 22.729817008))
            ThreePointArc((28.780809577, 22.729817008), (28.19502314, 24.14403057), (26.780809577, 24.729817008))
            Line((26.780809577, 24.729817008), (6.608652469, 24.729817008))
            ThreePointArc((6.608652469, 24.729817008), (5.194438907, 24.14403057), (4.608652469, 22.729817008))
            Line((4.608652469, 22.729817008), (4.608652469, 19.452131966))
            ThreePointArc((4.608652469, 19.452131966), (5.194438907, 18.037918404), (6.608652469, 17.452131966))
            Line((6.608652469, 17.452131966), (26.780809577, 17.452131966))
            ThreePointArc((26.780809577, 17.452131966), (28.19502314, 18.037918404), (28.780809577, 19.452131966))
        make_face()
    cut_extrude6 = extrude(amount=-CUT_EXTRUDE6_DEPTH, mode=Mode.SUBTRACT)

    # Mirror4: Cut-Extrude6 across plane
    add(cut_extrude6.mirror(Plane(origin=(0, 0, 0), x_dir=(0, 0, 1), z_dir=(1, 0, 0))), mode=Mode.SUBTRACT)


solid = part.part
